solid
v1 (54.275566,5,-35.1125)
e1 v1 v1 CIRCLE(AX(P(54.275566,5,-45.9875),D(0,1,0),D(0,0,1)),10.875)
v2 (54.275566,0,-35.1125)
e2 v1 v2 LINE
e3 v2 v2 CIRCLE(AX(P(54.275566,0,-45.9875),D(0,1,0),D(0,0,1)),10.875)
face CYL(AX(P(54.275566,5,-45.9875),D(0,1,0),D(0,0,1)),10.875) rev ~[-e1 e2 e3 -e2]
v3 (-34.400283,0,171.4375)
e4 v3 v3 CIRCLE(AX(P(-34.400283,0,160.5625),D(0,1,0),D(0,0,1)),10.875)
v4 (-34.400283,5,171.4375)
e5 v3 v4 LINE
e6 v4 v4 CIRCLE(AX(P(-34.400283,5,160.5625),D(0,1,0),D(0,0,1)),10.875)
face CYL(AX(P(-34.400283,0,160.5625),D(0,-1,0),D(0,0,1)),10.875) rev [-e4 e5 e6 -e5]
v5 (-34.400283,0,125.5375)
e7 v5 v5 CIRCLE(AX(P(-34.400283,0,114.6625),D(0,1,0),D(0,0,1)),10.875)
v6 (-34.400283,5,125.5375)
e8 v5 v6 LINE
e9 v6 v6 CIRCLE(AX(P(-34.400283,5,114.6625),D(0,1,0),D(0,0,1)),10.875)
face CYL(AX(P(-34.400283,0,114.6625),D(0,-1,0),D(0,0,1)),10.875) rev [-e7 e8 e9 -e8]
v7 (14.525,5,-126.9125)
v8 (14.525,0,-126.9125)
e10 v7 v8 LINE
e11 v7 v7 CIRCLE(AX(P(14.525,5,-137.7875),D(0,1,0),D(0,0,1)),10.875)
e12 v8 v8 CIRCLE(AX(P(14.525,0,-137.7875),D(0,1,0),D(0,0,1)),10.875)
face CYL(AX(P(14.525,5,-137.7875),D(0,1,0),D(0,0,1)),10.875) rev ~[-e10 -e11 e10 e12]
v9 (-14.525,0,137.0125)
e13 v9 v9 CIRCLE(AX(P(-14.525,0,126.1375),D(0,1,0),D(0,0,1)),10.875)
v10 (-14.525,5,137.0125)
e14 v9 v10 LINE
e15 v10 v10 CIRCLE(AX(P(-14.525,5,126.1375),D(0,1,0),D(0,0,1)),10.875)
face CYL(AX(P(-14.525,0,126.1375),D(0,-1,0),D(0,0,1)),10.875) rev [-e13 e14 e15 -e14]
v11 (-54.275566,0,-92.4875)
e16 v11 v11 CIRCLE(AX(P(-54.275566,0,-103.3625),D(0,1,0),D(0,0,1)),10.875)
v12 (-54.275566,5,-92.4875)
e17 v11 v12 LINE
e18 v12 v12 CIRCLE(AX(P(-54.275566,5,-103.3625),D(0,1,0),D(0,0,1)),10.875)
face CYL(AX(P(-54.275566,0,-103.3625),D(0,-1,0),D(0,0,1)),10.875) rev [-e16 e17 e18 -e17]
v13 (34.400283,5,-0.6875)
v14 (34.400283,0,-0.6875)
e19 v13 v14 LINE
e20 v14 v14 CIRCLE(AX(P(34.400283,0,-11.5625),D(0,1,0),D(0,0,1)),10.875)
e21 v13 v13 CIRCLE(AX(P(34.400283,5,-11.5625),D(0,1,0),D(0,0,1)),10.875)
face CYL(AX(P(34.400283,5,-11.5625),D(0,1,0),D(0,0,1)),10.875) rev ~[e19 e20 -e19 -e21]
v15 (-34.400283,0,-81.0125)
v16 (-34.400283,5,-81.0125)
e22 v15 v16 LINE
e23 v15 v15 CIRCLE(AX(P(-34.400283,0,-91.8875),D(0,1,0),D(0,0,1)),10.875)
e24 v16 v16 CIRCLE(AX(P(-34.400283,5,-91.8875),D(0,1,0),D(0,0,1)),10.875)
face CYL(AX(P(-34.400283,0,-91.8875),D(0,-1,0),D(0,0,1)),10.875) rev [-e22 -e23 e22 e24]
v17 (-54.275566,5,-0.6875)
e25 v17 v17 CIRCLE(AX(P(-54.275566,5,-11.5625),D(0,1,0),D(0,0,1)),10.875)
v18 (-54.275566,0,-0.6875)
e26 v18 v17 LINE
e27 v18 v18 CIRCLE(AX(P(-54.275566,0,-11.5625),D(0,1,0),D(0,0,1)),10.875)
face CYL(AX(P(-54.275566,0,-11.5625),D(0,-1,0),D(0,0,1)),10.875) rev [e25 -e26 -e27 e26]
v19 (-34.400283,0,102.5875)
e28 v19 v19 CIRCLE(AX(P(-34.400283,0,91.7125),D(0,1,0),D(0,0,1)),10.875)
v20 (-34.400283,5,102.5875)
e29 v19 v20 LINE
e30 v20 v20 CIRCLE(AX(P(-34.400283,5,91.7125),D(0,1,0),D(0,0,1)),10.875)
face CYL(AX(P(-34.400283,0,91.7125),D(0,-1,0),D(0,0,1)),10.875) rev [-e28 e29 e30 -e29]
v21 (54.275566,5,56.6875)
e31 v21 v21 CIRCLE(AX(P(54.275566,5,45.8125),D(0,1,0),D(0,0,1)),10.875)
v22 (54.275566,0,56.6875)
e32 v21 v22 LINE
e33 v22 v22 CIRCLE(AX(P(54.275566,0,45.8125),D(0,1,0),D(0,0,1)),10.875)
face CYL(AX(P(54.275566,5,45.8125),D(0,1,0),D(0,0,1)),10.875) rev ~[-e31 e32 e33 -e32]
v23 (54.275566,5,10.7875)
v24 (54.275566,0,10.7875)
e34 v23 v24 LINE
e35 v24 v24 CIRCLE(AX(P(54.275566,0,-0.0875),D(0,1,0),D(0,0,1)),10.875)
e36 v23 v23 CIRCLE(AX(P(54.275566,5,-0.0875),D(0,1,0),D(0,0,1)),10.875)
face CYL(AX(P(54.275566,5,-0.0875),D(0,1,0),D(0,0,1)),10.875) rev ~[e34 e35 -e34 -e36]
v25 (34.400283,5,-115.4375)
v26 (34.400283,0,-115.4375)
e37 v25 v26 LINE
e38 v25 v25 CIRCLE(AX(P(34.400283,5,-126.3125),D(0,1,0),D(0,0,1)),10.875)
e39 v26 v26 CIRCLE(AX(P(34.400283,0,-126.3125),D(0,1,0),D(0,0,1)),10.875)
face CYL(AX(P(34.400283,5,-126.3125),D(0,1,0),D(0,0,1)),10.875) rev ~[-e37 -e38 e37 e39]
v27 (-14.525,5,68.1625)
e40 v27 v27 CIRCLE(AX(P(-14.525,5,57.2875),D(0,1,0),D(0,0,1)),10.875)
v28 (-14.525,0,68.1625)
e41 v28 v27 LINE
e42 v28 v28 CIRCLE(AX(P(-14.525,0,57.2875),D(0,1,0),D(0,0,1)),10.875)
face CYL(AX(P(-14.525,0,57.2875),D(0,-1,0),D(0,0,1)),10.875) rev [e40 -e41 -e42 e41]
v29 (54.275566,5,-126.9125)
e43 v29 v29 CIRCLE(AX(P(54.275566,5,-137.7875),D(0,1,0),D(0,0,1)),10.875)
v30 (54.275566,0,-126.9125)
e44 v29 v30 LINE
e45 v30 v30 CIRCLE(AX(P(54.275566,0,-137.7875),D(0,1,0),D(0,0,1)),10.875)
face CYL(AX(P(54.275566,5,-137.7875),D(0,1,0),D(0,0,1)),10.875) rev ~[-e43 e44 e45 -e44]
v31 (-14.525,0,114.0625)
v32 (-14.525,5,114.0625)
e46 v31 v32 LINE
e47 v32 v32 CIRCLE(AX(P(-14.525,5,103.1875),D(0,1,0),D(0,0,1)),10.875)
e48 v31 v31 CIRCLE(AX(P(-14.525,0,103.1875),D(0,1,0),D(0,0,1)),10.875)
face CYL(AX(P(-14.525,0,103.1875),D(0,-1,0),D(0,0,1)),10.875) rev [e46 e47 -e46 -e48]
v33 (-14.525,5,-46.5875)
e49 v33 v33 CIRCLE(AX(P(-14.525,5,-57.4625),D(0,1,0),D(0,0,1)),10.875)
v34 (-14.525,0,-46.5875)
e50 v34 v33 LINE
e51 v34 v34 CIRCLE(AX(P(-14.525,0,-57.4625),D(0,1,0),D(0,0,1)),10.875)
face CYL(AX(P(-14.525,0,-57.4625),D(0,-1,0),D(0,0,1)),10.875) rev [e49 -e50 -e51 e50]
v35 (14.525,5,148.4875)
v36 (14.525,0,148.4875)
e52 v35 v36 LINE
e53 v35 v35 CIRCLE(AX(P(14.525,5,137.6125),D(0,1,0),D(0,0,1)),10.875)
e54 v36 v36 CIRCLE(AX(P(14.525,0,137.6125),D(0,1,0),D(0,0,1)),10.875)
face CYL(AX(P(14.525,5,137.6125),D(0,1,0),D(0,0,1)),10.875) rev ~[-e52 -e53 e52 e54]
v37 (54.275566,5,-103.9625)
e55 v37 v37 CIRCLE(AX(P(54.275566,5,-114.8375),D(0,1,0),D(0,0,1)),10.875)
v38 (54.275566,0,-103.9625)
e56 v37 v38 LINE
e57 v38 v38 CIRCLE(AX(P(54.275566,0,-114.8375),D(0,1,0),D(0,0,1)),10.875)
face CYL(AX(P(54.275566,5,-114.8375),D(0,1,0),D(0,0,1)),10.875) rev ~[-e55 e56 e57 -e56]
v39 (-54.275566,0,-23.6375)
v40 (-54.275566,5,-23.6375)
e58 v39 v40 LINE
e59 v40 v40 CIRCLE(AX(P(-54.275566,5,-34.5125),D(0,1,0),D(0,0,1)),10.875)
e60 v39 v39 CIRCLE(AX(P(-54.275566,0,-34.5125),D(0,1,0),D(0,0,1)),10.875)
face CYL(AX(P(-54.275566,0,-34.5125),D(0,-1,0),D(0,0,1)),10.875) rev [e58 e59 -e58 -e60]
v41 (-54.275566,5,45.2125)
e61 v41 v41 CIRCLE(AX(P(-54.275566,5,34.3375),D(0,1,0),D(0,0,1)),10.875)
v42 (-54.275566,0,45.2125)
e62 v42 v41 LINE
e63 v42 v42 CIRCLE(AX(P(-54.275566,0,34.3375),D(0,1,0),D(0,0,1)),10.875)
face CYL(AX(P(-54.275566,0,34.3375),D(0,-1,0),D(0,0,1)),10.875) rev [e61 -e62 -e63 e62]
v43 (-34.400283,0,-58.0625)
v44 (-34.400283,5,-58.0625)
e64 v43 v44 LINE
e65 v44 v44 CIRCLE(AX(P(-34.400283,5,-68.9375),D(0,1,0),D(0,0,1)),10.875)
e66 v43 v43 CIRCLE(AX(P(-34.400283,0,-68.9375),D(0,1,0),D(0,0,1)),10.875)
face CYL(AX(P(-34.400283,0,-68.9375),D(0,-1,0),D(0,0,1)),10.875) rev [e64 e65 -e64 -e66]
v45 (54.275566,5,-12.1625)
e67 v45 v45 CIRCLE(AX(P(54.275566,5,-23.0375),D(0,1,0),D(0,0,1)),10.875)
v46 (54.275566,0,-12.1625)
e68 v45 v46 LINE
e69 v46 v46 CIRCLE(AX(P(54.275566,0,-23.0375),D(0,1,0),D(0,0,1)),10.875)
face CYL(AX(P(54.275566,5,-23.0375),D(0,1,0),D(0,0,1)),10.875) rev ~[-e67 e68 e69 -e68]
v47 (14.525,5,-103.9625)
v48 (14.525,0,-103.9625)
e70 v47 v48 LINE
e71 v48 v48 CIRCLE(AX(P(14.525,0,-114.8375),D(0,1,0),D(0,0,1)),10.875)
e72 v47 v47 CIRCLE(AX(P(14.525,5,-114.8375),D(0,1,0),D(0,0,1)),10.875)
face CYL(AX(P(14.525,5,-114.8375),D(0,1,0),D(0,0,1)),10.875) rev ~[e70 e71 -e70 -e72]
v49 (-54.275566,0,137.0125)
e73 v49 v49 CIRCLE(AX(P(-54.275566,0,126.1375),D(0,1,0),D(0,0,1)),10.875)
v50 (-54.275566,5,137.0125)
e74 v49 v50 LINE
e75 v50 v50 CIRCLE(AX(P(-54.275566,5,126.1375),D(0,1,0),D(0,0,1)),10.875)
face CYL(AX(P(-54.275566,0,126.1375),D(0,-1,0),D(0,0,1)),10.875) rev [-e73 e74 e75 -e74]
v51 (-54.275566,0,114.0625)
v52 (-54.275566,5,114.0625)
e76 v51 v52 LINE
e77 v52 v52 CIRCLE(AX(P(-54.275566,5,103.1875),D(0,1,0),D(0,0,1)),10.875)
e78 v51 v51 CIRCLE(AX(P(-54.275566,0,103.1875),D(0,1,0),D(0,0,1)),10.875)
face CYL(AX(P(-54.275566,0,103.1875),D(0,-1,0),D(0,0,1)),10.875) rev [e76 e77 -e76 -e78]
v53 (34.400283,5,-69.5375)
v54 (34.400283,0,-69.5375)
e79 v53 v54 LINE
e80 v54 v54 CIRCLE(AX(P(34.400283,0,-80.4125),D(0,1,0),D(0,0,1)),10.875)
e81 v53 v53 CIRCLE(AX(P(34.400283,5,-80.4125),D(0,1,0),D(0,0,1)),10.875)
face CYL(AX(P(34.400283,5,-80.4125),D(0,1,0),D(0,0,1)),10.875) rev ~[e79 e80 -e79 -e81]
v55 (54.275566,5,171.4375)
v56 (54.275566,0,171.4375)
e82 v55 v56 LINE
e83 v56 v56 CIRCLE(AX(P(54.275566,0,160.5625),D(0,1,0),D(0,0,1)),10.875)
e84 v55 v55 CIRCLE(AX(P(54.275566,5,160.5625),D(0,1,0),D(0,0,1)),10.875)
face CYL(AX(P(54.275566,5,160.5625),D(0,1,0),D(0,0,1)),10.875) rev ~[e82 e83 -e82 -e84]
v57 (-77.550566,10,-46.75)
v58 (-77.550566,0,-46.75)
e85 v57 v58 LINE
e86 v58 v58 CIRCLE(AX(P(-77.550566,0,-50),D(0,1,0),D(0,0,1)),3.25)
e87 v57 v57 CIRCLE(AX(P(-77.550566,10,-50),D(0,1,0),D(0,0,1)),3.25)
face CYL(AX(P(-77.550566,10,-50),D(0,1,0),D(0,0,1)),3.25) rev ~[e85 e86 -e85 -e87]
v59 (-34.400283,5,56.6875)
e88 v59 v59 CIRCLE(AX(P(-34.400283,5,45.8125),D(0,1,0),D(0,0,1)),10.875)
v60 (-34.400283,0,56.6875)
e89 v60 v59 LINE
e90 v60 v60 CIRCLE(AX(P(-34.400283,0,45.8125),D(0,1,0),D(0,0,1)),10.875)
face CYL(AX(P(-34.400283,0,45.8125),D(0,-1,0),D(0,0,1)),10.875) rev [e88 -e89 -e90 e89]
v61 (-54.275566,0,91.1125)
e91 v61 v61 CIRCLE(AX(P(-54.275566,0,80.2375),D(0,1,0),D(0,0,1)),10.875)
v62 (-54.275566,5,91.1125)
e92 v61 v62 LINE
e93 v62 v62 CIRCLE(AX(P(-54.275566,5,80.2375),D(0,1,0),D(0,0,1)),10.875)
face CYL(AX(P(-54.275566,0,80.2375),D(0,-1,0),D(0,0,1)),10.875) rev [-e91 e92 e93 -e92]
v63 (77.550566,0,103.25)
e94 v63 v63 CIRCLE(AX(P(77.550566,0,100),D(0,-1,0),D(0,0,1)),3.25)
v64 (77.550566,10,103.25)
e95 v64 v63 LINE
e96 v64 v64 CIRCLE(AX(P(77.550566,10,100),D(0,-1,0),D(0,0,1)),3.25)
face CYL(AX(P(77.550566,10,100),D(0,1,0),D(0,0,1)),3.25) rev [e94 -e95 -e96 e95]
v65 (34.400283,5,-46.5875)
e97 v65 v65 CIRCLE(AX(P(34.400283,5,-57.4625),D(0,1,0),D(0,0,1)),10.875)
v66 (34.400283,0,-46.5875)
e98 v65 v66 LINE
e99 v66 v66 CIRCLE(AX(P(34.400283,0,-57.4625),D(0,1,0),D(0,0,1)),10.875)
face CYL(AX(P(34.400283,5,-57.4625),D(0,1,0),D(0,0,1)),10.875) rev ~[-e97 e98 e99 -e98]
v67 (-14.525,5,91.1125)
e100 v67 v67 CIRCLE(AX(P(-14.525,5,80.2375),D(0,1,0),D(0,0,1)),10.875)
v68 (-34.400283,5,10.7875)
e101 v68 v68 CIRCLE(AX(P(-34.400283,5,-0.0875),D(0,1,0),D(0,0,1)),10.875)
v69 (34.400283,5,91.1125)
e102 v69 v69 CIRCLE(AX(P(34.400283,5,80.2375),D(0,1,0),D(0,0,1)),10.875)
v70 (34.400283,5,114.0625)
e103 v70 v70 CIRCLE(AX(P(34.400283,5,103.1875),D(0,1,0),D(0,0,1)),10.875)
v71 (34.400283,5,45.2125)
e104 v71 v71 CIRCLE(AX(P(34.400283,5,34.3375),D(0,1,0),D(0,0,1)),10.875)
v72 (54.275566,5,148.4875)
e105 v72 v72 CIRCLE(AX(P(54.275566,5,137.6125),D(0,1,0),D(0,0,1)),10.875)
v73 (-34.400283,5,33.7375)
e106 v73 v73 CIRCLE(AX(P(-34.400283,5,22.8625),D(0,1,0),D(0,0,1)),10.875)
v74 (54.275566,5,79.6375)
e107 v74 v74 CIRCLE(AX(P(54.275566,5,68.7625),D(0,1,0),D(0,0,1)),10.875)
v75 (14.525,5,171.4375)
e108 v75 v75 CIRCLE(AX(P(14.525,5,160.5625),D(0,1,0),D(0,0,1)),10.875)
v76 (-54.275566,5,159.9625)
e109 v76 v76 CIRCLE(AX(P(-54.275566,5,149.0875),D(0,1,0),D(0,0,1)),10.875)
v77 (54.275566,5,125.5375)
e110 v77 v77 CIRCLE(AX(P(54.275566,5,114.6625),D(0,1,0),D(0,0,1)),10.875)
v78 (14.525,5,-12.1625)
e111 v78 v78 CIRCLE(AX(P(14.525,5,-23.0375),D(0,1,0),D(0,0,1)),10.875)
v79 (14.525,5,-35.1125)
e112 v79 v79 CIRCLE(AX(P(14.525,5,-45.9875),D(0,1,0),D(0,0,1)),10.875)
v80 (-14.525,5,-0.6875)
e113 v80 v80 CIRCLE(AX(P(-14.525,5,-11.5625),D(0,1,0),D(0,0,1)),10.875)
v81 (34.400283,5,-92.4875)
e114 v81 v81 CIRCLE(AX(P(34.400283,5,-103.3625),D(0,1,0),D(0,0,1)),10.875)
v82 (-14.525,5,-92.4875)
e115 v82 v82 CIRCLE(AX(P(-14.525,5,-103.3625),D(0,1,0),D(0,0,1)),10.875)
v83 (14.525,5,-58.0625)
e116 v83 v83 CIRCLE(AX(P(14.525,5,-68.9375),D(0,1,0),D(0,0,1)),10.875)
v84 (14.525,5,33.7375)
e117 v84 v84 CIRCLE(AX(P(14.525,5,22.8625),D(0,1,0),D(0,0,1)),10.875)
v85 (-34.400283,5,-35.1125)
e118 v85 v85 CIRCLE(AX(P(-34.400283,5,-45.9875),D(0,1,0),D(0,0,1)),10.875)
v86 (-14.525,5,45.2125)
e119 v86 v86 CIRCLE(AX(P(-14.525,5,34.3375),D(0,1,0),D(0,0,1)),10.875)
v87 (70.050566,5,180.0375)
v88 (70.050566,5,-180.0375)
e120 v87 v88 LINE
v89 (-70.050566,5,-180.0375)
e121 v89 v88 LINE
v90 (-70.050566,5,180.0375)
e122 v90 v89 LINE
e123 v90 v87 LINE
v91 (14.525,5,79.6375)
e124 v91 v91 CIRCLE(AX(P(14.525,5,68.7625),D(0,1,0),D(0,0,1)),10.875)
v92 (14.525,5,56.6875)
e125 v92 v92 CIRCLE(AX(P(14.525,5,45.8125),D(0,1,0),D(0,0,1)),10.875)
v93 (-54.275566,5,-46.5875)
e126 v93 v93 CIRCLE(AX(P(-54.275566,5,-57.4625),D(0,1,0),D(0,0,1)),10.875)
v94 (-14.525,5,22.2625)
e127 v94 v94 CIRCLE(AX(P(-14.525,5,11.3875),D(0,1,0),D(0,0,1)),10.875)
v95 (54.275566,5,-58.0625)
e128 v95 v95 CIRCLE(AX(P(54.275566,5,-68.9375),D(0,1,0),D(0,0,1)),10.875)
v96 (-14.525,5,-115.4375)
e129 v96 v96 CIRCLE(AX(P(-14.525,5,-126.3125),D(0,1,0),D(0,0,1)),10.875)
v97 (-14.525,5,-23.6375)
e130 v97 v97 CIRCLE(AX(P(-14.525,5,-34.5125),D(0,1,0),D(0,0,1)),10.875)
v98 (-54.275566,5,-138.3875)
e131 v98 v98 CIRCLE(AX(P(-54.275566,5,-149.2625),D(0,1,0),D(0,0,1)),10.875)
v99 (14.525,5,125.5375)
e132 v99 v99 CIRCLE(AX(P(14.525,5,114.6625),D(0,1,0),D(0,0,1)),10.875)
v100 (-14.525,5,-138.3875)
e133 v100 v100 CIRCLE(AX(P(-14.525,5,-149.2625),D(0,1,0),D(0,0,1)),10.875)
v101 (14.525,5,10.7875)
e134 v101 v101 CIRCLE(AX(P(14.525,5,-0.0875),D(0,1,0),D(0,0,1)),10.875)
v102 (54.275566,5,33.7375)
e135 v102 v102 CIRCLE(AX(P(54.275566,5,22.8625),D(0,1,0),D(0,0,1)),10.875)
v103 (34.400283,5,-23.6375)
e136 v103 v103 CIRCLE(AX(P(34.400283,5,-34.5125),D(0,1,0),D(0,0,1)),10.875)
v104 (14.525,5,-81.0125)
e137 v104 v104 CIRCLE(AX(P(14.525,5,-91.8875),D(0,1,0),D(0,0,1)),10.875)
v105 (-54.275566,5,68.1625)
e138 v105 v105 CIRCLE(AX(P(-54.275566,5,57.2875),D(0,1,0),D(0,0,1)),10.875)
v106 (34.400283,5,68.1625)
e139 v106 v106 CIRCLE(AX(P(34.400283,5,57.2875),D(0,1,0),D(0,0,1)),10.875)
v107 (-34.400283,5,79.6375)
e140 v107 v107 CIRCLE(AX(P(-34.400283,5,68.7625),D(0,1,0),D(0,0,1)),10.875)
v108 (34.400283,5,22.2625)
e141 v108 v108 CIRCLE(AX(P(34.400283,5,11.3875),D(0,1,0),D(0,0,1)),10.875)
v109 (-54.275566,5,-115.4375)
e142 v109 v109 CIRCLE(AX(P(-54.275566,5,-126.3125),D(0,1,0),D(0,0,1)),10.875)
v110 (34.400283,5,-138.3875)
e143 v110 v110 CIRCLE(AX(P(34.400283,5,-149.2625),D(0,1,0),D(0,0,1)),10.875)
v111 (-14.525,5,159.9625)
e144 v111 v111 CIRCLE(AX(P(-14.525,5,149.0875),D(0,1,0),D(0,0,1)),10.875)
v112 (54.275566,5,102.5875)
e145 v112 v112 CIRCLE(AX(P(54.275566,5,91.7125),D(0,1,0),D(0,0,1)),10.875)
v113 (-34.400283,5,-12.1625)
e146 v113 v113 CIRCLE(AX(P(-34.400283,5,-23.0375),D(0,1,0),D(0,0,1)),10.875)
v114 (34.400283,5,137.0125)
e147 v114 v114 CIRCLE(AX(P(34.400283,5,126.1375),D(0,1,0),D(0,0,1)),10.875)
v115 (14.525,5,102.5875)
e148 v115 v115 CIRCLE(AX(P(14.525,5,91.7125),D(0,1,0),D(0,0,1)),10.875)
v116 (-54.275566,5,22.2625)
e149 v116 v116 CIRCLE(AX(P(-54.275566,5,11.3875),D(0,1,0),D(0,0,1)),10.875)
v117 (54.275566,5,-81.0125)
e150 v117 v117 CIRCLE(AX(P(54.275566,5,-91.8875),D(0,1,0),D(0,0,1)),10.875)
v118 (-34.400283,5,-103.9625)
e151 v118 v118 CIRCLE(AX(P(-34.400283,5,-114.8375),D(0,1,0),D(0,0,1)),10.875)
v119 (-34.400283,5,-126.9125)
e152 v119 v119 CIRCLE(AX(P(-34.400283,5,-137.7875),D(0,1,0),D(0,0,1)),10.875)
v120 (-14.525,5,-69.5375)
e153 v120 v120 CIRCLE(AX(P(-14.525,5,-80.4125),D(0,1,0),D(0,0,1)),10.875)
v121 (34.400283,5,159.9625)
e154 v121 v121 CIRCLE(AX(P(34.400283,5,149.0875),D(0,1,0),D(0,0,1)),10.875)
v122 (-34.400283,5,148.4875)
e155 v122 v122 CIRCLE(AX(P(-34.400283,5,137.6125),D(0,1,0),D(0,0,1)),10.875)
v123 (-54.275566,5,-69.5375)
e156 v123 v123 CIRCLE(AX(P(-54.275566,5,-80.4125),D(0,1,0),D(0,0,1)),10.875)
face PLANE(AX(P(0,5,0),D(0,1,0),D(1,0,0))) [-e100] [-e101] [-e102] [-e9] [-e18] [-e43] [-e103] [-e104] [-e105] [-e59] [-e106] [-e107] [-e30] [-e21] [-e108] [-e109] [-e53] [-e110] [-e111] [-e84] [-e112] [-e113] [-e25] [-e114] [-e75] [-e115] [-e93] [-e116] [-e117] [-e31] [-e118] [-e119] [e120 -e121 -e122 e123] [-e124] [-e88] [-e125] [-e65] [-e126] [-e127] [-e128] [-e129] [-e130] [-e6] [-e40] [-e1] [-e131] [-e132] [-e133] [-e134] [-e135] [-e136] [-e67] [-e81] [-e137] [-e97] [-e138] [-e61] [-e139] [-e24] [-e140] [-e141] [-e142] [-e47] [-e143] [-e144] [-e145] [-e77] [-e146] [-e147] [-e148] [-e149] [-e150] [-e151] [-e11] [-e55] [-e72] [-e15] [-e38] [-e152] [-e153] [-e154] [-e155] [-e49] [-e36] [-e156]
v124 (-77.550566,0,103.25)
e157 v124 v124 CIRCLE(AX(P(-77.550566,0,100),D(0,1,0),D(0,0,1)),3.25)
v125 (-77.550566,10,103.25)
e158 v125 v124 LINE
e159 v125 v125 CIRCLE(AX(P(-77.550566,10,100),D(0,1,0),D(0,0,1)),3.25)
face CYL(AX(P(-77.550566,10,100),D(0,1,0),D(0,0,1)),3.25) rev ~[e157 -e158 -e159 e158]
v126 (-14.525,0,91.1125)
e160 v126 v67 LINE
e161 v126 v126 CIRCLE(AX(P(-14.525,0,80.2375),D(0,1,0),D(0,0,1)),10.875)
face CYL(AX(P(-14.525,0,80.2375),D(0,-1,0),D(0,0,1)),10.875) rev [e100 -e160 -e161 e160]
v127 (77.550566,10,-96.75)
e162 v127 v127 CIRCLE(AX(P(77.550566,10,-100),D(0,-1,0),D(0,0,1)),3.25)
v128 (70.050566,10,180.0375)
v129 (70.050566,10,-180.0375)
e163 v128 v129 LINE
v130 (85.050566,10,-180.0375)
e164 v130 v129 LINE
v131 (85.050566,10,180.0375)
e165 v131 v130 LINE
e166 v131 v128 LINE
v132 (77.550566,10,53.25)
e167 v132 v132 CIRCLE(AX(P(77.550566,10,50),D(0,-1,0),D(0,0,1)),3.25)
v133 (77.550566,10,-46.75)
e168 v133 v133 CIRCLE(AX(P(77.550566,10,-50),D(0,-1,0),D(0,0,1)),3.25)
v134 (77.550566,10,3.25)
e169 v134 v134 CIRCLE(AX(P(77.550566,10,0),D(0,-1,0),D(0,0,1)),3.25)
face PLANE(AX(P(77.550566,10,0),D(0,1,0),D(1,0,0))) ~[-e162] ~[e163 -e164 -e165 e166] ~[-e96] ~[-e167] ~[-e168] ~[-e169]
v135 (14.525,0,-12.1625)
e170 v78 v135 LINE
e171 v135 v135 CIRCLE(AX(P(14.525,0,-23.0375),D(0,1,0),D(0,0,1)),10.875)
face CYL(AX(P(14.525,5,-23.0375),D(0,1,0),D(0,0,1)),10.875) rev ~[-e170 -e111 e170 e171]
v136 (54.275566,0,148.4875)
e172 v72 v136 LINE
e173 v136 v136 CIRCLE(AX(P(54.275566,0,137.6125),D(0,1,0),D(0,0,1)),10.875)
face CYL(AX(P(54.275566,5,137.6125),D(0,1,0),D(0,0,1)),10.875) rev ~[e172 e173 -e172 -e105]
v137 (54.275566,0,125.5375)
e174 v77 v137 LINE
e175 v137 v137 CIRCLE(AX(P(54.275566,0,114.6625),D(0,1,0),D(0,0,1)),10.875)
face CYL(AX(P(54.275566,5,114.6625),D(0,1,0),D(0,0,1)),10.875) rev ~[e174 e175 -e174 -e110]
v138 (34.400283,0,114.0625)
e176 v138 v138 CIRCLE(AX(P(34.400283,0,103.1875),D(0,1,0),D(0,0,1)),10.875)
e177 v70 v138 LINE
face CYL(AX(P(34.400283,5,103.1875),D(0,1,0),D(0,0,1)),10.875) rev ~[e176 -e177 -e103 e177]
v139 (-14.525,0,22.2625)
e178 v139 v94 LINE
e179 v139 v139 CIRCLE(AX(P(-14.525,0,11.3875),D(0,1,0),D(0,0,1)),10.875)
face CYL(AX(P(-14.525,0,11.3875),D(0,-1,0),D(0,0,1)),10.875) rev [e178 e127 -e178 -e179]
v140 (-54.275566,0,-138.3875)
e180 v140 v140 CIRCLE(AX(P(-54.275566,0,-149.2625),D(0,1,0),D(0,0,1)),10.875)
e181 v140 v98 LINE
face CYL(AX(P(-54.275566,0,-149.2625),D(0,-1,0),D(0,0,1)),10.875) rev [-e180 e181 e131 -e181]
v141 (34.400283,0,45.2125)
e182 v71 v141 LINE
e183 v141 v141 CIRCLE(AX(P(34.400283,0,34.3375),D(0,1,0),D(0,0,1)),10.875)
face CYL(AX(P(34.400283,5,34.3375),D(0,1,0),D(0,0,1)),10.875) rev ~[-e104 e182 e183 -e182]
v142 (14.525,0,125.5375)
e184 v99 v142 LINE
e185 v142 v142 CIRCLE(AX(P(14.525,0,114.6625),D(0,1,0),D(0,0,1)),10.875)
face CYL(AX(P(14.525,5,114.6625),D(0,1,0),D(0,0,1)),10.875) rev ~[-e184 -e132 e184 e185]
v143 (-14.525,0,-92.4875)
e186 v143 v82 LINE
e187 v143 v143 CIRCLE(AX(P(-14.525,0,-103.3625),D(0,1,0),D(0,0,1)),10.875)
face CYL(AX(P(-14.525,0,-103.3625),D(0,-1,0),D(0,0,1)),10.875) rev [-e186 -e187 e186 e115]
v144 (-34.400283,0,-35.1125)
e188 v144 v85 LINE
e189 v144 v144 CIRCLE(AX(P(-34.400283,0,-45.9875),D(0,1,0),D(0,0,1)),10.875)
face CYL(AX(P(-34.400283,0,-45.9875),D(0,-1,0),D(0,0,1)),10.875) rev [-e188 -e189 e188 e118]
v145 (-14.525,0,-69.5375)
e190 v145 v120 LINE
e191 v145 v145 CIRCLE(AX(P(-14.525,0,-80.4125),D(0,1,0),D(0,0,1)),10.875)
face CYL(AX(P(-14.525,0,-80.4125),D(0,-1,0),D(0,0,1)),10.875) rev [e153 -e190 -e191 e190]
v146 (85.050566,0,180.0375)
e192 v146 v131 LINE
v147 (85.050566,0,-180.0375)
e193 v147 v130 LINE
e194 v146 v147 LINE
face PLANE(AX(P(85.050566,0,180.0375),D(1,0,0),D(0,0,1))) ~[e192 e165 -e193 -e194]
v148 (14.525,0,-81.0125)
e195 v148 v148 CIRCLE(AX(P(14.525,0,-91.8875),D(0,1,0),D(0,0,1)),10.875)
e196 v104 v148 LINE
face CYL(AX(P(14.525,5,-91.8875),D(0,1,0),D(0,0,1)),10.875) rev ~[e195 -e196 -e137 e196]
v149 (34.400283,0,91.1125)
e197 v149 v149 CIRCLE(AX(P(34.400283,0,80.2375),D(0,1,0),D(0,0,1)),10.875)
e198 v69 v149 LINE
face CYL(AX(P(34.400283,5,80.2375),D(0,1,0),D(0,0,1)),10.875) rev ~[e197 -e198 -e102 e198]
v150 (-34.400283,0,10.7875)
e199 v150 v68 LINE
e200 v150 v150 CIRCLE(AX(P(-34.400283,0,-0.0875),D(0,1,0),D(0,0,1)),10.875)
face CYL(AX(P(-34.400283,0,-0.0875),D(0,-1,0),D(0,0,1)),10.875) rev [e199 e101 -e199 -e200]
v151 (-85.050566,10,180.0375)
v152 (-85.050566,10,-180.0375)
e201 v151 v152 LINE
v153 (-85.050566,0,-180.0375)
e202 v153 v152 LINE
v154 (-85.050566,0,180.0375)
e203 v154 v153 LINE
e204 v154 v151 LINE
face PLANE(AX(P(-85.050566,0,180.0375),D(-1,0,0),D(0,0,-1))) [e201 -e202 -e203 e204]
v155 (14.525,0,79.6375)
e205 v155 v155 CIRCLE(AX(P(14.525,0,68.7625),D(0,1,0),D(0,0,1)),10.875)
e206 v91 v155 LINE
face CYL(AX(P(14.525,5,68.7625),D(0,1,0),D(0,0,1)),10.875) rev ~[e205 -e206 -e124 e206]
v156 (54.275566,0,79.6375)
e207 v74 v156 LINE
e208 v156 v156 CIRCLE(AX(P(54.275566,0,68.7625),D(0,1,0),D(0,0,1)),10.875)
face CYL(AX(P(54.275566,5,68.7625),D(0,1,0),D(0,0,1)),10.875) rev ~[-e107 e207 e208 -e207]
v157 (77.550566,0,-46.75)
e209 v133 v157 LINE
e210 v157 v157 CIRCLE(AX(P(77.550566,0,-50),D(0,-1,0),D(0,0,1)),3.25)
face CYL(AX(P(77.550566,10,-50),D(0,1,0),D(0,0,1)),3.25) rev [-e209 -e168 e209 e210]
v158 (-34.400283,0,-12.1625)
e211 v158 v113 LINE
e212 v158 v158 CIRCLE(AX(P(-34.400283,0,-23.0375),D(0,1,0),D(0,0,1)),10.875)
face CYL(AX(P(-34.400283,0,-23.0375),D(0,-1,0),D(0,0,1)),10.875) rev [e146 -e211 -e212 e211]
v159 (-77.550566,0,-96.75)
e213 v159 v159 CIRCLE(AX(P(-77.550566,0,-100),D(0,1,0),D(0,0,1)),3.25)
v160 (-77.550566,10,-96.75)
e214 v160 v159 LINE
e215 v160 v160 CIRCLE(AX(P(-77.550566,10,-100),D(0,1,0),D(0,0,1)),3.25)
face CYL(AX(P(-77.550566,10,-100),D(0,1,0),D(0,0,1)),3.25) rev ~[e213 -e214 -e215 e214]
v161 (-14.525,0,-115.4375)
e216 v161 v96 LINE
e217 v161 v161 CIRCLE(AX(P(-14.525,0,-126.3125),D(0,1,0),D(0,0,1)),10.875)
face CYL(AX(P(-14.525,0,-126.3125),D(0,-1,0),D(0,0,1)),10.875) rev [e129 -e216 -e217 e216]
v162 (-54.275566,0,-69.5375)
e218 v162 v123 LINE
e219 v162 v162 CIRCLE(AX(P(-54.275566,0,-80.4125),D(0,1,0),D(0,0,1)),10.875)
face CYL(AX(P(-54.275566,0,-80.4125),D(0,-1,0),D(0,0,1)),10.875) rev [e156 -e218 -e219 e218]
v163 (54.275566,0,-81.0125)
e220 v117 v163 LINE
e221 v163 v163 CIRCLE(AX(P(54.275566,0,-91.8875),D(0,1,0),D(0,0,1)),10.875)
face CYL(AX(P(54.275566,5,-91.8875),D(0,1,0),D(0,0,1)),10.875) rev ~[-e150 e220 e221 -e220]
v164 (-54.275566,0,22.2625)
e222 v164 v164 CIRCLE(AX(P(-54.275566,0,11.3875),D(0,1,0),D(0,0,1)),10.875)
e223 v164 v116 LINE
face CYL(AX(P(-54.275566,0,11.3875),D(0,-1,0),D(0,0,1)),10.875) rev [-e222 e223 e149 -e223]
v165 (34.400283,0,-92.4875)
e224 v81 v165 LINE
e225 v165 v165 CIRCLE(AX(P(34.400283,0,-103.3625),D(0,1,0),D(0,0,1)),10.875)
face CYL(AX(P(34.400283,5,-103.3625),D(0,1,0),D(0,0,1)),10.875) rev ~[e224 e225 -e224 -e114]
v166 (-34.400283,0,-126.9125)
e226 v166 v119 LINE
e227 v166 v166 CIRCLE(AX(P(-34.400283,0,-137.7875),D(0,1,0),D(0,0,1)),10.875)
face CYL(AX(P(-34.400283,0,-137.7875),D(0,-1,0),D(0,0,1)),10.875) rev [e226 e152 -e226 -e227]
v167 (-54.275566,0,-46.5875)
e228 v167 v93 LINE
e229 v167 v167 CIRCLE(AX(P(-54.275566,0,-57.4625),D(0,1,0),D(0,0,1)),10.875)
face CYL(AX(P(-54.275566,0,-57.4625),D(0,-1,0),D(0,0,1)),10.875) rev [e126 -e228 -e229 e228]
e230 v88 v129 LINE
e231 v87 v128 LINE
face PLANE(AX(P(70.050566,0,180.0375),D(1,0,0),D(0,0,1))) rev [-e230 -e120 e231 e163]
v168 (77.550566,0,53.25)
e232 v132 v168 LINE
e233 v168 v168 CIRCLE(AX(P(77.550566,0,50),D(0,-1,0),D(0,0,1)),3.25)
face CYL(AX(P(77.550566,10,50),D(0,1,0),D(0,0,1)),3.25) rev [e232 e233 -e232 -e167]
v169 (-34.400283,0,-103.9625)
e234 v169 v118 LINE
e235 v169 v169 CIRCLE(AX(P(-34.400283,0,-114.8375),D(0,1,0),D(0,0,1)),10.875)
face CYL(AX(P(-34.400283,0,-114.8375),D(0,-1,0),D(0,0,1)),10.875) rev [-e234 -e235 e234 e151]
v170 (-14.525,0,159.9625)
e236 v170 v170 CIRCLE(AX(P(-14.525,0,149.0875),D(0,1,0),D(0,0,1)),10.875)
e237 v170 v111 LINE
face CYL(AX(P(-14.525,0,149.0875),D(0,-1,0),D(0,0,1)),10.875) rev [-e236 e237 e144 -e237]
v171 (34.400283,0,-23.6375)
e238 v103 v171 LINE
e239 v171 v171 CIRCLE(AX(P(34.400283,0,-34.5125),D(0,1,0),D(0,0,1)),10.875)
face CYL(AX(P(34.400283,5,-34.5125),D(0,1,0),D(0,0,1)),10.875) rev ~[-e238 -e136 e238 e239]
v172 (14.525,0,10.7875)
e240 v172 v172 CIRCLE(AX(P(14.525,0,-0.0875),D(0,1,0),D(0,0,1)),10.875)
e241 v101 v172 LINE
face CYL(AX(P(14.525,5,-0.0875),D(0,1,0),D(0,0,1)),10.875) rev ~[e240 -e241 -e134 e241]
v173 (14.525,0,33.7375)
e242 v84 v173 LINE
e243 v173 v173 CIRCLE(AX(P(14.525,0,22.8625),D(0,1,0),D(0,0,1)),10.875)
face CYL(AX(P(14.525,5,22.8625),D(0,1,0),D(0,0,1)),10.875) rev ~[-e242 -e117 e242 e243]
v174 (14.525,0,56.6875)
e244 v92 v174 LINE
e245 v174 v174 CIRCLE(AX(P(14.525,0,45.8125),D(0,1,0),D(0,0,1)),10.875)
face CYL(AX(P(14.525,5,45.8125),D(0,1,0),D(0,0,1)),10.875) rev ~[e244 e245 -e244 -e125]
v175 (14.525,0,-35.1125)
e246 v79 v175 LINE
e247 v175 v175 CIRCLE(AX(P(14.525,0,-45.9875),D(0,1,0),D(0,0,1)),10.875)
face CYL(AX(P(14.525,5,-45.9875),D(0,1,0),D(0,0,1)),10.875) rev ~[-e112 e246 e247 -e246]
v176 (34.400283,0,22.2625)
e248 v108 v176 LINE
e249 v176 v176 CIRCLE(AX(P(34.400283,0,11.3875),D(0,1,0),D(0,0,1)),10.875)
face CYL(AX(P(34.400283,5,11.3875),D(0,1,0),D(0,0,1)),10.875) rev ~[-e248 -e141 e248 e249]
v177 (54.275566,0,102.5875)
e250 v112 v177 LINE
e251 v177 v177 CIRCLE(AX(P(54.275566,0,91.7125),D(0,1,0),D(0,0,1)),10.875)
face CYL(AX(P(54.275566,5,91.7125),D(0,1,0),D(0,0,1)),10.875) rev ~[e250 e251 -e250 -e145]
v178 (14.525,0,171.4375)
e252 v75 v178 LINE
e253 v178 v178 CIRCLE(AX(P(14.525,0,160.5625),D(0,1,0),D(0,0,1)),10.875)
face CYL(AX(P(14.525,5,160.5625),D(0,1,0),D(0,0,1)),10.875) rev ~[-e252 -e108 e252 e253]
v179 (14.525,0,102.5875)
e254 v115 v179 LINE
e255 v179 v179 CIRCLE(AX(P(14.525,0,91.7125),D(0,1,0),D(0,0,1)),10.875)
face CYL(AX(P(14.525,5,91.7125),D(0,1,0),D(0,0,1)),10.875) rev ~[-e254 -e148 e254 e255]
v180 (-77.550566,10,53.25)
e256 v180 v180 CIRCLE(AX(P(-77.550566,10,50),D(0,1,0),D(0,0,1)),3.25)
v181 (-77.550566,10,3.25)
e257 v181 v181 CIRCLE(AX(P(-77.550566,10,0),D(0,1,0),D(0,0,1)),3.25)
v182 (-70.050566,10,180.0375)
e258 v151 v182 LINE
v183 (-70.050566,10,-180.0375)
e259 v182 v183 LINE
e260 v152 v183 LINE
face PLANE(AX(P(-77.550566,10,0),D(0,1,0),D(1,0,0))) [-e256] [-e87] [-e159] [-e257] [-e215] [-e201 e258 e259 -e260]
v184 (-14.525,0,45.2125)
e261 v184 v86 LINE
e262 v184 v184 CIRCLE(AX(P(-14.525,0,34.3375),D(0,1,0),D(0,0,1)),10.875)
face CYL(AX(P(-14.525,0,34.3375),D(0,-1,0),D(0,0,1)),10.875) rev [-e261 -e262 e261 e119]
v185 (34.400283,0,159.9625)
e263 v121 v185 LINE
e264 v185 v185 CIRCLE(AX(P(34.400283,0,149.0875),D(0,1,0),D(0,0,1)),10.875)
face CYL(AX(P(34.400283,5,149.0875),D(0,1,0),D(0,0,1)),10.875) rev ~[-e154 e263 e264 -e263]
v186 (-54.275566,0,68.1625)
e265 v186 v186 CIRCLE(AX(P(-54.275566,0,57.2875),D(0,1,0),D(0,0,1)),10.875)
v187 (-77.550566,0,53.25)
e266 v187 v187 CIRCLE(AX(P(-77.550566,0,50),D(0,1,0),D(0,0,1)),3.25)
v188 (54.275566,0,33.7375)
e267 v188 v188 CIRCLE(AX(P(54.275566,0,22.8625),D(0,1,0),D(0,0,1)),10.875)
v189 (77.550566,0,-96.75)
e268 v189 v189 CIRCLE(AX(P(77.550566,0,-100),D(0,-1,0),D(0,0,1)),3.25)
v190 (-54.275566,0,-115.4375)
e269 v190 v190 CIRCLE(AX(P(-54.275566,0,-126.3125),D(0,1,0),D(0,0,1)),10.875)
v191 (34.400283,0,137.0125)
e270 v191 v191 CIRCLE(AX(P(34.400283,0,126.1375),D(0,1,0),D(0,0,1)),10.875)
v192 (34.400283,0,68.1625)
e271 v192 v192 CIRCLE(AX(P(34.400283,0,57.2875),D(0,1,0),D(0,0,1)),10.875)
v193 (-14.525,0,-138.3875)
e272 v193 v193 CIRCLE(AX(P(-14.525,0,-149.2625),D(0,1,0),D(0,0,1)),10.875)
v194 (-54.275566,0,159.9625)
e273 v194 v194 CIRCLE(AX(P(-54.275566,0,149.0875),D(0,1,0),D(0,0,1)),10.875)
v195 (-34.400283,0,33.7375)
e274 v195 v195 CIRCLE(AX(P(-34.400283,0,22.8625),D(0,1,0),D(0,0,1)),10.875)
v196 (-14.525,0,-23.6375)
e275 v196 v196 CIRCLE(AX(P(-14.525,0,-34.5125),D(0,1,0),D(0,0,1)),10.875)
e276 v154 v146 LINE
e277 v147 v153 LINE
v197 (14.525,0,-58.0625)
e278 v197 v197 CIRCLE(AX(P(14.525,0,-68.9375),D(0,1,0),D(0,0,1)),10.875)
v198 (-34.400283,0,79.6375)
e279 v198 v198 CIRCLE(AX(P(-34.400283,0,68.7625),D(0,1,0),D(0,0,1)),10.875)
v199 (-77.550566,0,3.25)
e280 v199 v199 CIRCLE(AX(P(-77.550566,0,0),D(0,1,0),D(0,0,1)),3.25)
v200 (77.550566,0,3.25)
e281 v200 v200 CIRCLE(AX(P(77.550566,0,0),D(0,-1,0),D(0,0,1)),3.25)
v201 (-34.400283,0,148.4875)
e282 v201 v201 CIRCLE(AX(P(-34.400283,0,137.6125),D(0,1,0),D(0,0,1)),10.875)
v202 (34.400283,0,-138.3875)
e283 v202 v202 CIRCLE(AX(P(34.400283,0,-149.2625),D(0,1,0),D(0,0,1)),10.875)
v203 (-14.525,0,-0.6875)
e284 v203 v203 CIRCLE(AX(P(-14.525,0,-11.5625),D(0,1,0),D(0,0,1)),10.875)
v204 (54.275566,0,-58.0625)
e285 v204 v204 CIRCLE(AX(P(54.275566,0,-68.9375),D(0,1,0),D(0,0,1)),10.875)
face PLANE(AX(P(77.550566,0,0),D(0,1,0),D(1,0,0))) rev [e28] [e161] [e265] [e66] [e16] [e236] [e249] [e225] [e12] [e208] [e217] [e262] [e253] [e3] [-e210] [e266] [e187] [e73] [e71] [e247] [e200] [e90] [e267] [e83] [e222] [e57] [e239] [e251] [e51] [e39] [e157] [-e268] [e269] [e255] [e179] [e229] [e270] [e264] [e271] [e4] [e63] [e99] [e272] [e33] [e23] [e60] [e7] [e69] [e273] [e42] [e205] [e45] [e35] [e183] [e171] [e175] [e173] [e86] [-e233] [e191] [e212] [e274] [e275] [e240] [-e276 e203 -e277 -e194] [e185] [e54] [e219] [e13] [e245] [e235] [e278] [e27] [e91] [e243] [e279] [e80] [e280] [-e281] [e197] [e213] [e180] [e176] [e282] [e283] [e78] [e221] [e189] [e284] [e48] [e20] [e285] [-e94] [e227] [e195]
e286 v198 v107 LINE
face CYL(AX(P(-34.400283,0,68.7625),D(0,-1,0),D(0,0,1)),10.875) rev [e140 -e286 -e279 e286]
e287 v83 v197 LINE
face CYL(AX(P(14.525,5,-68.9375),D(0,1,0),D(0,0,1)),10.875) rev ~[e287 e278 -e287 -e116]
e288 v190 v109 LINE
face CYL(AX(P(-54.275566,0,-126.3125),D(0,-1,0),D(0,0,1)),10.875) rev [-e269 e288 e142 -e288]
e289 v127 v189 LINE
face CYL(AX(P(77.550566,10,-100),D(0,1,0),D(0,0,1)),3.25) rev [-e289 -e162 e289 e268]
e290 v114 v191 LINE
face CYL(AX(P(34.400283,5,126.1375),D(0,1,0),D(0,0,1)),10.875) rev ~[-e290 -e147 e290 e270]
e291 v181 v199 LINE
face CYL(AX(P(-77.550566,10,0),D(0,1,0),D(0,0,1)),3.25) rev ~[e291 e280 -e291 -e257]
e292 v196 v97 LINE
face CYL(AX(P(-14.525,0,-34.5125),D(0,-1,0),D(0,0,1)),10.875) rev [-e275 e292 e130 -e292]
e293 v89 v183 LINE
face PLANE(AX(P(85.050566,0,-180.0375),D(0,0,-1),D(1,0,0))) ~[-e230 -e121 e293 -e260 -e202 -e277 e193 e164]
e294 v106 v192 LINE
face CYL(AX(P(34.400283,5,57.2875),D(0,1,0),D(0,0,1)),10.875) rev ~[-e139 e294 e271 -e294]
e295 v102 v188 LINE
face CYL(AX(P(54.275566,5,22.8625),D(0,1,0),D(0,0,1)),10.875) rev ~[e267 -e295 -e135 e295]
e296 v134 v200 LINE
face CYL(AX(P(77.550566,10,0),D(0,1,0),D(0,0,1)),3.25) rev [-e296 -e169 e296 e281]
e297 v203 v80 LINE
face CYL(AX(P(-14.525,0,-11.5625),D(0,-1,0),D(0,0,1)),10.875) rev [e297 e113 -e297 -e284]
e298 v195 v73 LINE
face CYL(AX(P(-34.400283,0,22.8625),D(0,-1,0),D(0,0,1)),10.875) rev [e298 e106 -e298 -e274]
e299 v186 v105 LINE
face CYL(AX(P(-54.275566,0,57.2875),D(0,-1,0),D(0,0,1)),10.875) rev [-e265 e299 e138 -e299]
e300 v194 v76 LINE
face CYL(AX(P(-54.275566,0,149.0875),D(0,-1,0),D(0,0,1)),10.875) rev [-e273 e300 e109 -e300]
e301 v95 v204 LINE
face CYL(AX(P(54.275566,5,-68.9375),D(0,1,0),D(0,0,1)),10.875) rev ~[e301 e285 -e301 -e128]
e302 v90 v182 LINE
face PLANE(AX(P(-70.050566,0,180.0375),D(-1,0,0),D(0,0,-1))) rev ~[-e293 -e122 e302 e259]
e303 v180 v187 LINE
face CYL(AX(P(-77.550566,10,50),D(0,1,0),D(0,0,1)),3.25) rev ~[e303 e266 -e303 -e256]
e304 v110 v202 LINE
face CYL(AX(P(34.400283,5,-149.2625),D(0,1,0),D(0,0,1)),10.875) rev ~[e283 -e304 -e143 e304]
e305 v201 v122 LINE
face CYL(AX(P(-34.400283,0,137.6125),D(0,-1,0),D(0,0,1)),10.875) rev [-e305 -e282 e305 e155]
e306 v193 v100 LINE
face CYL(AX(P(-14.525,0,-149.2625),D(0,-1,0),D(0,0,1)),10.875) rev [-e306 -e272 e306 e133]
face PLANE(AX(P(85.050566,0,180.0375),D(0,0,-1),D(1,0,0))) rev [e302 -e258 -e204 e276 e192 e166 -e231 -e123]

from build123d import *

# Parameters (mm, degrees)
CELL_BLOCK_SKETCH_W  = 140.101132068
CELL_BLOCK_SKETCH_H  = 360.075
BOSS_EXTRUDE1_DEPTH  = 5
CELL_HOLES_PATTERN_R = 10.875
CUT_EXTRUDE1_DEPTH   = 5
SKETCH1_R            = 10.875
CUT_EXTRUDE2_DEPTH   = 5
SKETCH3_W            = 15
SKETCH3_H            = 360.075
BOSS_EXTRUDE3_DEPTH  = 10
SKETCH4_R            = 3.25
CUT_EXTRUDE3_DEPTH   = 10


with BuildPart() as part:
    # Cell Block Sketch → Boss-Extrude1 (new body)
    with BuildSketch(Plane(origin=(0, 0, 0), x_dir=(1, 0, 0), z_dir=(0, 1, 0))):
        Rectangle(CELL_BLOCK_SKETCH_W, CELL_BLOCK_SKETCH_H)
    extrude(amount=BOSS_EXTRUDE1_DEPTH)

    # Cell Holes Pattern → Cut-Extrude1 (cut)
    with BuildSketch(Plane(origin=(0, 0, 0), x_dir=(1, 0, 0), z_dir=(0, 1, 0))):
        with Locations(Location((-34.400283017, 137.7875, 0), (0, 0, 270))):
            Circle(CELL_HOLES_PATTERN_R)
        with Locations(Location((-54.275566034, 149.2625, 0), (0, 0, 270))):
            Circle(CELL_HOLES_PATTERN_R)
        with Locations(Location((-14.525, 149.2625, 0), (0, 0, 270))):
            Circle(CELL_HOLES_PATTERN_R)
        with Locations(Location((-54.275566034, 126.3125, 0), (0, 0, 270))):
            Circle(CELL_HOLES_PATTERN_R)
        with Locations(Location((-34.400283017, 114.8375, 0), (0, 0, 270))):
            Circle(CELL_HOLES_PATTERN_R)
        with Locations(Location((-14.525, 126.3125, 0), (0, 0, 270))):
            Circle(CELL_HOLES_PATTERN_R)
        with Locations(Location((-54.275566034, 103.3625, 0), (0, 0, 270))):
            Circle(CELL_HOLES_PATTERN_R)
        with Locations(Location((-34.400283017, 91.8875, 0), (0, 0, 270))):
            Circle(CELL_HOLES_PATTERN_R)
        with Locations(Location((-14.525, 103.3625, 0), (0, 0, 270))):
            Circle(CELL_HOLES_PATTERN_R)
        with Locations(Location((-54.275566034, 80.4125, 0), (0, 0, 270))):
            Circle(CELL_HOLES_PATTERN_R)
        with Locations(Location((-34.400283017, 68.9375, 0), (0, 0, 270))):
            Circle(CELL_HOLES_PATTERN_R)
        with Locations(Location((-14.525, 80.4125, 0), (0, 0, 270))):
            Circle(CELL_HOLES_PATTERN_R)
        with Locations(Location((-54.275566034, 57.4625, 0), (0, 0, 270))):
            Circle(CELL_HOLES_PATTERN_R)
        with Locations(Location((-34.400283017, 45.9875, 0), (0, 0, 270))):
            Circle(CELL_HOLES_PATTERN_R)
        with Locations(Location((-14.525, 57.4625, 0), (0, 0, 270))):
            Circle(CELL_HOLES_PATTERN_R)
        with Locations(Location((-54.275566034, 34.5125, 0), (0, 0, 270))):
            Circle(CELL_HOLES_PATTERN_R)
        with Locations(Location((-34.400283017, 23.0375, 0), (0, 0, 270))):
            Circle(CELL_HOLES_PATTERN_R)
        with Locations(Location((-14.525, 34.5125, 0), (0, 0, 270))):
            Circle(CELL_HOLES_PATTERN_R)
        with Locations(Location((-54.275566034, 11.5625, 0), (0, 0, 270))):
            Circle(CELL_HOLES_PATTERN_R)
        with Locations(Location((-34.400283017, 0.0875, 0), (0, 0, 270))):
            Circle(CELL_HOLES_PATTERN_R)
        with Locations(Location((-14.525, 11.5625, 0), (0, 0, 270))):
            Circle(CELL_HOLES_PATTERN_R)
        with Locations(Location((-54.275566034, -11.3875, 0), (0, 0, 270))):
            Circle(CELL_HOLES_PATTERN_R)
        with Locations(Location((-34.400283017, -22.8625, 0), (0, 0, 270))):
            Circle(CELL_HOLES_PATTERN_R)
        with Locations(Location((-14.525, -11.3875, 0), (0, 0, 270))):
            Circle(CELL_HOLES_PATTERN_R)
        with Locations(Location((-54.275566034, -34.3375, 0), (0, 0, 270))):
            Circle(CELL_HOLES_PATTERN_R)
        with Locations(Location((-34.400283017, -45.8125, 0), (0, 0, 270))):
            Circle(CELL_HOLES_PATTERN_R)
        with Locations(Location((-14.525, -34.3375, 0), (0, 0, 270))):
            Circle(CELL_HOLES_PATTERN_R)
        with Locations(Location((-54.275566034, -57.2875, 0), (0, 0, 270))):
            Circle(CELL_HOLES_PATTERN_R)
        with Locations(Location((-34.400283017, -68.7625, 0), (0, 0, 270))):
            Circle(CELL_HOLES_PATTERN_R)
        with Locations(Location((-14.525, -57.2875, 0), (0, 0, 270))):
            Circle(CELL_HOLES_PATTERN_R)
        with Locations(Location((-54.275566034, -80.2375, 0), (0, 0, 270))):
            Circle(CELL_HOLES_PATTERN_R)
        with Locations(Location((-34.400283017, -91.7125, 0), (0, 0, 270))):
            Circle(CELL_HOLES_PATTERN_R)
        with Locations(Location((-14.525, -80.2375, 0), (0, 0, 270))):
            Circle(CELL_HOLES_PATTERN_R)
        with Locations(Location((-54.275566034, -103.1875, 0), (0, 0, 270))):
            Circle(CELL_HOLES_PATTERN_R)
        with Locations(Location((-34.400283017, -114.6625, 0), (0, 0, 270))):
            Circle(CELL_HOLES_PATTERN_R)
        with Locations(Location((-14.525, -103.1875, 0), (0, 0, 270))):
            Circle(CELL_HOLES_PATTERN_R)
        with Locations(Location((-54.275566034, -126.1375, 0), (0, 0, 270))):
            Circle(CELL_HOLES_PATTERN_R)
        with Locations(Location((-34.400283017, -137.6125, 0), (0, 0, 270))):
            Circle(CELL_HOLES_PATTERN_R)
        with Locations(Location((-14.525, -126.1375, 0), (0, 0, 270))):
            Circle(CELL_HOLES_PATTERN_R)
        with Locations(Location((-54.275566034, -149.0875, 0), (0, 0, 270))):
            Circle(CELL_HOLES_PATTERN_R)
        with Locations(Location((-34.400283017, -160.5625, 0), (0, 0, 270))):
            Circle(CELL_HOLES_PATTERN_R)
        with Locations(Location((-14.525, -149.0875, 0), (0, 0, 270))):
            Circle(CELL_HOLES_PATTERN_R)
    extrude(amount=CUT_EXTRUDE1_DEPTH, mode=Mode.SUBTRACT)

    # Sketch1 → Cut-Extrude2 (cut)
    with BuildSketch(Plane(origin=(0, 5, 0), x_dir=(1, 0, 0), z_dir=(0, 1, 0))):
        with Locations(Location((14.525, 137.7875, 0), (0, 0, 270))):
            Circle(SKETCH1_R)
        with Locations(Location((34.400283017, 149.2625, 0), (0, 0, 270))):
            Circle(SKETCH1_R)
        with Locations(Location((54.275566034, 137.7875, 0), (0, 0, 270))):
            Circle(SKETCH1_R)
        with Locations(Location((14.525, 114.8375, 0), (0, 0, 270))):
            Circle(SKETCH1_R)
        with Locations(Location((34.400283017, 126.3125, 0), (0, 0, 270))):
            Circle(SKETCH1_R)
        with Locations(Location((54.275566034, 114.8375, 0), (0, 0, 270))):
            Circle(SKETCH1_R)
        with Locations(Location((14.525, 91.8875, 0), (0, 0, 270))):
            Circle(SKETCH1_R)
        with Locations(Location((34.400283017, 103.3625, 0), (0, 0, 270))):
            Circle(SKETCH1_R)
        with Locations(Location((54.275566034, 91.8875, 0), (0, 0, 270))):
            Circle(SKETCH1_R)
        with Locations(Location((14.525, 68.9375, 0), (0, 0, 270))):
            Circle(SKETCH1_R)
        with Locations(Location((34.400283017, 80.4125, 0), (0, 0, 270))):
            Circle(SKETCH1_R)
        with Locations(Location((54.275566034, 68.9375, 0), (0, 0, 270))):
            Circle(SKETCH1_R)
        with Locations(Location((14.525, 45.9875, 0), (0, 0, 270))):
            Circle(SKETCH1_R)
        with Locations(Location((34.400283017, 57.4625, 0), (0, 0, 270))):
            Circle(SKETCH1_R)
        with Locations(Location((54.275566034, 45.9875, 0), (0, 0, 270))):
            Circle(SKETCH1_R)
        with Locations(Location((14.525, 23.0375, 0), (0, 0, 270))):
            Circle(SKETCH1_R)
        with Locations(Location((34.400283017, 34.5125, 0), (0, 0, 270))):
            Circle(SKETCH1_R)
        with Locations(Location((54.275566034, 23.0375, 0), (0, 0, 270))):
            Circle(SKETCH1_R)
        with Locations(Location((14.525, 0.0875, 0), (0, 0, 270))):
            Circle(SKETCH1_R)
        with Locations(Location((34.400283017, 11.5625, 0), (0, 0, 270))):
            Circle(SKETCH1_R)
        with Locations(Location((54.275566034, 0.0875, 0), (0, 0, 270))):
            Circle(SKETCH1_R)
        with Locations(Location((14.525, -22.8625, 0), (0, 0, 270))):
            Circle(SKETCH1_R)
        with Locations(Location((34.400283017, -11.3875, 0), (0, 0, 270))):
            Circle(SKETCH1_R)
        with Locations(Location((54.275566034, -22.8625, 0), (0, 0, 270))):
            Circle(SKETCH1_R)
        with Locations(Location((14.525, -45.8125, 0), (0, 0, 270))):
            Circle(SKETCH1_R)
        with Locations(Location((34.400283017, -34.3375, 0), (0, 0, 270))):
            Circle(SKETCH1_R)
        with Locations(Location((54.275566034, -45.8125, 0), (0, 0, 270))):
            Circle(SKETCH1_R)
        with Locations(Location((14.525, -68.7625, 0), (0, 0, 270))):
            Circle(SKETCH1_R)
        with Locations(Location((34.400283017, -57.2875, 0), (0, 0, 270))):
            Circle(SKETCH1_R)
        with Locations(Location((54.275566034, -68.7625, 0), (0, 0, 270))):
            Circle(SKETCH1_R)
        with Locations(Location((14.525, -91.7125, 0), (0, 0, 270))):
            Circle(SKETCH1_R)
        with Locations(Location((34.400283017, -80.2375, 0), (0, 0, 270))):
            Circle(SKETCH1_R)
        with Locations(Location((54.275566034, -91.7125, 0), (0, 0, 270))):
            Circle(SKETCH1_R)
        with Locations(Location((14.525, -114.6625, 0), (0, 0, 270))):
            Circle(SKETCH1_R)
        with Locations(Location((34.400283017, -103.1875, 0), (0, 0, 270))):
            Circle(SKETCH1_R)
        with Locations(Location((54.275566034, -114.6625, 0), (0, 0, 270))):
            Circle(SKETCH1_R)
        with Locations(Location((14.525, -137.6125, 0), (0, 0, 270))):
            Circle(SKETCH1_R)
        with Locations(Location((34.400283017, -126.1375, 0), (0, 0, 270))):
            Circle(SKETCH1_R)
        with Locations(Location((54.275566034, -137.6125, 0), (0, 0, 270))):
            Circle(SKETCH1_R)
        with Locations(Location((14.525, -160.5625, 0), (0, 0, 270))):
            Circle(SKETCH1_R)
        with Locations(Location((34.400283017, -149.0875, 0), (0, 0, 270))):
            Circle(SKETCH1_R)
        with Locations(Location((54.275566034, -160.5625, 0), (0, 0, 270))):
            Circle(SKETCH1_R)
    extrude(amount=-CUT_EXTRUDE2_DEPTH, mode=Mode.SUBTRACT)

    # Sketch3 → Boss-Extrude3 (add)
    with BuildSketch(Plane(origin=(0, 0, 0), x_dir=(1, 0, 0), z_dir=(0, 1, 0))):
        with Locations((-77.550566034, 0)):
            Rectangle(SKETCH3_W, SKETCH3_H)
    boss_extrude3 = extrude(amount=BOSS_EXTRUDE3_DEPTH)

    # Mirror1: Boss-Extrude3 across plane
    add(boss_extrude3.mirror(Plane(origin=(0, 0, 0), x_dir=(0, 0, 1), z_dir=(1, 0, 0))))

    # Sketch4 → Cut-Extrude3 (cut)
    with BuildSketch(Plane(origin=(0, 10, 0), x_dir=(1, 0, 0), z_dir=(0, 1, 0))):
        with Locations(Location((-77.550566034, 0, 0), (0, 0, 270))):
            Circle(SKETCH4_R)
        with Locations(Location((-77.550566034, -50, 0), (0, 0, 270))):
            Circle(SKETCH4_R)
        with Locations(Location((-77.550566034, -100, 0), (0, 0, 270))):
            Circle(SKETCH4_R)
        with Locations(Location((-77.550566034, 50, 0), (0, 0, 270))):
            Circle(SKETCH4_R)
        with Locations(Location((-77.550566034, 100, 0), (0, 0, 270))):
            Circle(SKETCH4_R)
    cut_extrude3 = extrude(amount=-CUT_EXTRUDE3_DEPTH, mode=Mode.SUBTRACT)

    # Mirror2: Cut-Extrude3 across plane
    add(cut_extrude3.mirror(Plane(origin=(0, 0, 0), x_dir=(0, 0, 1), z_dir=(1, 0, 0))), mode=Mode.SUBTRACT)


solid = part.part
